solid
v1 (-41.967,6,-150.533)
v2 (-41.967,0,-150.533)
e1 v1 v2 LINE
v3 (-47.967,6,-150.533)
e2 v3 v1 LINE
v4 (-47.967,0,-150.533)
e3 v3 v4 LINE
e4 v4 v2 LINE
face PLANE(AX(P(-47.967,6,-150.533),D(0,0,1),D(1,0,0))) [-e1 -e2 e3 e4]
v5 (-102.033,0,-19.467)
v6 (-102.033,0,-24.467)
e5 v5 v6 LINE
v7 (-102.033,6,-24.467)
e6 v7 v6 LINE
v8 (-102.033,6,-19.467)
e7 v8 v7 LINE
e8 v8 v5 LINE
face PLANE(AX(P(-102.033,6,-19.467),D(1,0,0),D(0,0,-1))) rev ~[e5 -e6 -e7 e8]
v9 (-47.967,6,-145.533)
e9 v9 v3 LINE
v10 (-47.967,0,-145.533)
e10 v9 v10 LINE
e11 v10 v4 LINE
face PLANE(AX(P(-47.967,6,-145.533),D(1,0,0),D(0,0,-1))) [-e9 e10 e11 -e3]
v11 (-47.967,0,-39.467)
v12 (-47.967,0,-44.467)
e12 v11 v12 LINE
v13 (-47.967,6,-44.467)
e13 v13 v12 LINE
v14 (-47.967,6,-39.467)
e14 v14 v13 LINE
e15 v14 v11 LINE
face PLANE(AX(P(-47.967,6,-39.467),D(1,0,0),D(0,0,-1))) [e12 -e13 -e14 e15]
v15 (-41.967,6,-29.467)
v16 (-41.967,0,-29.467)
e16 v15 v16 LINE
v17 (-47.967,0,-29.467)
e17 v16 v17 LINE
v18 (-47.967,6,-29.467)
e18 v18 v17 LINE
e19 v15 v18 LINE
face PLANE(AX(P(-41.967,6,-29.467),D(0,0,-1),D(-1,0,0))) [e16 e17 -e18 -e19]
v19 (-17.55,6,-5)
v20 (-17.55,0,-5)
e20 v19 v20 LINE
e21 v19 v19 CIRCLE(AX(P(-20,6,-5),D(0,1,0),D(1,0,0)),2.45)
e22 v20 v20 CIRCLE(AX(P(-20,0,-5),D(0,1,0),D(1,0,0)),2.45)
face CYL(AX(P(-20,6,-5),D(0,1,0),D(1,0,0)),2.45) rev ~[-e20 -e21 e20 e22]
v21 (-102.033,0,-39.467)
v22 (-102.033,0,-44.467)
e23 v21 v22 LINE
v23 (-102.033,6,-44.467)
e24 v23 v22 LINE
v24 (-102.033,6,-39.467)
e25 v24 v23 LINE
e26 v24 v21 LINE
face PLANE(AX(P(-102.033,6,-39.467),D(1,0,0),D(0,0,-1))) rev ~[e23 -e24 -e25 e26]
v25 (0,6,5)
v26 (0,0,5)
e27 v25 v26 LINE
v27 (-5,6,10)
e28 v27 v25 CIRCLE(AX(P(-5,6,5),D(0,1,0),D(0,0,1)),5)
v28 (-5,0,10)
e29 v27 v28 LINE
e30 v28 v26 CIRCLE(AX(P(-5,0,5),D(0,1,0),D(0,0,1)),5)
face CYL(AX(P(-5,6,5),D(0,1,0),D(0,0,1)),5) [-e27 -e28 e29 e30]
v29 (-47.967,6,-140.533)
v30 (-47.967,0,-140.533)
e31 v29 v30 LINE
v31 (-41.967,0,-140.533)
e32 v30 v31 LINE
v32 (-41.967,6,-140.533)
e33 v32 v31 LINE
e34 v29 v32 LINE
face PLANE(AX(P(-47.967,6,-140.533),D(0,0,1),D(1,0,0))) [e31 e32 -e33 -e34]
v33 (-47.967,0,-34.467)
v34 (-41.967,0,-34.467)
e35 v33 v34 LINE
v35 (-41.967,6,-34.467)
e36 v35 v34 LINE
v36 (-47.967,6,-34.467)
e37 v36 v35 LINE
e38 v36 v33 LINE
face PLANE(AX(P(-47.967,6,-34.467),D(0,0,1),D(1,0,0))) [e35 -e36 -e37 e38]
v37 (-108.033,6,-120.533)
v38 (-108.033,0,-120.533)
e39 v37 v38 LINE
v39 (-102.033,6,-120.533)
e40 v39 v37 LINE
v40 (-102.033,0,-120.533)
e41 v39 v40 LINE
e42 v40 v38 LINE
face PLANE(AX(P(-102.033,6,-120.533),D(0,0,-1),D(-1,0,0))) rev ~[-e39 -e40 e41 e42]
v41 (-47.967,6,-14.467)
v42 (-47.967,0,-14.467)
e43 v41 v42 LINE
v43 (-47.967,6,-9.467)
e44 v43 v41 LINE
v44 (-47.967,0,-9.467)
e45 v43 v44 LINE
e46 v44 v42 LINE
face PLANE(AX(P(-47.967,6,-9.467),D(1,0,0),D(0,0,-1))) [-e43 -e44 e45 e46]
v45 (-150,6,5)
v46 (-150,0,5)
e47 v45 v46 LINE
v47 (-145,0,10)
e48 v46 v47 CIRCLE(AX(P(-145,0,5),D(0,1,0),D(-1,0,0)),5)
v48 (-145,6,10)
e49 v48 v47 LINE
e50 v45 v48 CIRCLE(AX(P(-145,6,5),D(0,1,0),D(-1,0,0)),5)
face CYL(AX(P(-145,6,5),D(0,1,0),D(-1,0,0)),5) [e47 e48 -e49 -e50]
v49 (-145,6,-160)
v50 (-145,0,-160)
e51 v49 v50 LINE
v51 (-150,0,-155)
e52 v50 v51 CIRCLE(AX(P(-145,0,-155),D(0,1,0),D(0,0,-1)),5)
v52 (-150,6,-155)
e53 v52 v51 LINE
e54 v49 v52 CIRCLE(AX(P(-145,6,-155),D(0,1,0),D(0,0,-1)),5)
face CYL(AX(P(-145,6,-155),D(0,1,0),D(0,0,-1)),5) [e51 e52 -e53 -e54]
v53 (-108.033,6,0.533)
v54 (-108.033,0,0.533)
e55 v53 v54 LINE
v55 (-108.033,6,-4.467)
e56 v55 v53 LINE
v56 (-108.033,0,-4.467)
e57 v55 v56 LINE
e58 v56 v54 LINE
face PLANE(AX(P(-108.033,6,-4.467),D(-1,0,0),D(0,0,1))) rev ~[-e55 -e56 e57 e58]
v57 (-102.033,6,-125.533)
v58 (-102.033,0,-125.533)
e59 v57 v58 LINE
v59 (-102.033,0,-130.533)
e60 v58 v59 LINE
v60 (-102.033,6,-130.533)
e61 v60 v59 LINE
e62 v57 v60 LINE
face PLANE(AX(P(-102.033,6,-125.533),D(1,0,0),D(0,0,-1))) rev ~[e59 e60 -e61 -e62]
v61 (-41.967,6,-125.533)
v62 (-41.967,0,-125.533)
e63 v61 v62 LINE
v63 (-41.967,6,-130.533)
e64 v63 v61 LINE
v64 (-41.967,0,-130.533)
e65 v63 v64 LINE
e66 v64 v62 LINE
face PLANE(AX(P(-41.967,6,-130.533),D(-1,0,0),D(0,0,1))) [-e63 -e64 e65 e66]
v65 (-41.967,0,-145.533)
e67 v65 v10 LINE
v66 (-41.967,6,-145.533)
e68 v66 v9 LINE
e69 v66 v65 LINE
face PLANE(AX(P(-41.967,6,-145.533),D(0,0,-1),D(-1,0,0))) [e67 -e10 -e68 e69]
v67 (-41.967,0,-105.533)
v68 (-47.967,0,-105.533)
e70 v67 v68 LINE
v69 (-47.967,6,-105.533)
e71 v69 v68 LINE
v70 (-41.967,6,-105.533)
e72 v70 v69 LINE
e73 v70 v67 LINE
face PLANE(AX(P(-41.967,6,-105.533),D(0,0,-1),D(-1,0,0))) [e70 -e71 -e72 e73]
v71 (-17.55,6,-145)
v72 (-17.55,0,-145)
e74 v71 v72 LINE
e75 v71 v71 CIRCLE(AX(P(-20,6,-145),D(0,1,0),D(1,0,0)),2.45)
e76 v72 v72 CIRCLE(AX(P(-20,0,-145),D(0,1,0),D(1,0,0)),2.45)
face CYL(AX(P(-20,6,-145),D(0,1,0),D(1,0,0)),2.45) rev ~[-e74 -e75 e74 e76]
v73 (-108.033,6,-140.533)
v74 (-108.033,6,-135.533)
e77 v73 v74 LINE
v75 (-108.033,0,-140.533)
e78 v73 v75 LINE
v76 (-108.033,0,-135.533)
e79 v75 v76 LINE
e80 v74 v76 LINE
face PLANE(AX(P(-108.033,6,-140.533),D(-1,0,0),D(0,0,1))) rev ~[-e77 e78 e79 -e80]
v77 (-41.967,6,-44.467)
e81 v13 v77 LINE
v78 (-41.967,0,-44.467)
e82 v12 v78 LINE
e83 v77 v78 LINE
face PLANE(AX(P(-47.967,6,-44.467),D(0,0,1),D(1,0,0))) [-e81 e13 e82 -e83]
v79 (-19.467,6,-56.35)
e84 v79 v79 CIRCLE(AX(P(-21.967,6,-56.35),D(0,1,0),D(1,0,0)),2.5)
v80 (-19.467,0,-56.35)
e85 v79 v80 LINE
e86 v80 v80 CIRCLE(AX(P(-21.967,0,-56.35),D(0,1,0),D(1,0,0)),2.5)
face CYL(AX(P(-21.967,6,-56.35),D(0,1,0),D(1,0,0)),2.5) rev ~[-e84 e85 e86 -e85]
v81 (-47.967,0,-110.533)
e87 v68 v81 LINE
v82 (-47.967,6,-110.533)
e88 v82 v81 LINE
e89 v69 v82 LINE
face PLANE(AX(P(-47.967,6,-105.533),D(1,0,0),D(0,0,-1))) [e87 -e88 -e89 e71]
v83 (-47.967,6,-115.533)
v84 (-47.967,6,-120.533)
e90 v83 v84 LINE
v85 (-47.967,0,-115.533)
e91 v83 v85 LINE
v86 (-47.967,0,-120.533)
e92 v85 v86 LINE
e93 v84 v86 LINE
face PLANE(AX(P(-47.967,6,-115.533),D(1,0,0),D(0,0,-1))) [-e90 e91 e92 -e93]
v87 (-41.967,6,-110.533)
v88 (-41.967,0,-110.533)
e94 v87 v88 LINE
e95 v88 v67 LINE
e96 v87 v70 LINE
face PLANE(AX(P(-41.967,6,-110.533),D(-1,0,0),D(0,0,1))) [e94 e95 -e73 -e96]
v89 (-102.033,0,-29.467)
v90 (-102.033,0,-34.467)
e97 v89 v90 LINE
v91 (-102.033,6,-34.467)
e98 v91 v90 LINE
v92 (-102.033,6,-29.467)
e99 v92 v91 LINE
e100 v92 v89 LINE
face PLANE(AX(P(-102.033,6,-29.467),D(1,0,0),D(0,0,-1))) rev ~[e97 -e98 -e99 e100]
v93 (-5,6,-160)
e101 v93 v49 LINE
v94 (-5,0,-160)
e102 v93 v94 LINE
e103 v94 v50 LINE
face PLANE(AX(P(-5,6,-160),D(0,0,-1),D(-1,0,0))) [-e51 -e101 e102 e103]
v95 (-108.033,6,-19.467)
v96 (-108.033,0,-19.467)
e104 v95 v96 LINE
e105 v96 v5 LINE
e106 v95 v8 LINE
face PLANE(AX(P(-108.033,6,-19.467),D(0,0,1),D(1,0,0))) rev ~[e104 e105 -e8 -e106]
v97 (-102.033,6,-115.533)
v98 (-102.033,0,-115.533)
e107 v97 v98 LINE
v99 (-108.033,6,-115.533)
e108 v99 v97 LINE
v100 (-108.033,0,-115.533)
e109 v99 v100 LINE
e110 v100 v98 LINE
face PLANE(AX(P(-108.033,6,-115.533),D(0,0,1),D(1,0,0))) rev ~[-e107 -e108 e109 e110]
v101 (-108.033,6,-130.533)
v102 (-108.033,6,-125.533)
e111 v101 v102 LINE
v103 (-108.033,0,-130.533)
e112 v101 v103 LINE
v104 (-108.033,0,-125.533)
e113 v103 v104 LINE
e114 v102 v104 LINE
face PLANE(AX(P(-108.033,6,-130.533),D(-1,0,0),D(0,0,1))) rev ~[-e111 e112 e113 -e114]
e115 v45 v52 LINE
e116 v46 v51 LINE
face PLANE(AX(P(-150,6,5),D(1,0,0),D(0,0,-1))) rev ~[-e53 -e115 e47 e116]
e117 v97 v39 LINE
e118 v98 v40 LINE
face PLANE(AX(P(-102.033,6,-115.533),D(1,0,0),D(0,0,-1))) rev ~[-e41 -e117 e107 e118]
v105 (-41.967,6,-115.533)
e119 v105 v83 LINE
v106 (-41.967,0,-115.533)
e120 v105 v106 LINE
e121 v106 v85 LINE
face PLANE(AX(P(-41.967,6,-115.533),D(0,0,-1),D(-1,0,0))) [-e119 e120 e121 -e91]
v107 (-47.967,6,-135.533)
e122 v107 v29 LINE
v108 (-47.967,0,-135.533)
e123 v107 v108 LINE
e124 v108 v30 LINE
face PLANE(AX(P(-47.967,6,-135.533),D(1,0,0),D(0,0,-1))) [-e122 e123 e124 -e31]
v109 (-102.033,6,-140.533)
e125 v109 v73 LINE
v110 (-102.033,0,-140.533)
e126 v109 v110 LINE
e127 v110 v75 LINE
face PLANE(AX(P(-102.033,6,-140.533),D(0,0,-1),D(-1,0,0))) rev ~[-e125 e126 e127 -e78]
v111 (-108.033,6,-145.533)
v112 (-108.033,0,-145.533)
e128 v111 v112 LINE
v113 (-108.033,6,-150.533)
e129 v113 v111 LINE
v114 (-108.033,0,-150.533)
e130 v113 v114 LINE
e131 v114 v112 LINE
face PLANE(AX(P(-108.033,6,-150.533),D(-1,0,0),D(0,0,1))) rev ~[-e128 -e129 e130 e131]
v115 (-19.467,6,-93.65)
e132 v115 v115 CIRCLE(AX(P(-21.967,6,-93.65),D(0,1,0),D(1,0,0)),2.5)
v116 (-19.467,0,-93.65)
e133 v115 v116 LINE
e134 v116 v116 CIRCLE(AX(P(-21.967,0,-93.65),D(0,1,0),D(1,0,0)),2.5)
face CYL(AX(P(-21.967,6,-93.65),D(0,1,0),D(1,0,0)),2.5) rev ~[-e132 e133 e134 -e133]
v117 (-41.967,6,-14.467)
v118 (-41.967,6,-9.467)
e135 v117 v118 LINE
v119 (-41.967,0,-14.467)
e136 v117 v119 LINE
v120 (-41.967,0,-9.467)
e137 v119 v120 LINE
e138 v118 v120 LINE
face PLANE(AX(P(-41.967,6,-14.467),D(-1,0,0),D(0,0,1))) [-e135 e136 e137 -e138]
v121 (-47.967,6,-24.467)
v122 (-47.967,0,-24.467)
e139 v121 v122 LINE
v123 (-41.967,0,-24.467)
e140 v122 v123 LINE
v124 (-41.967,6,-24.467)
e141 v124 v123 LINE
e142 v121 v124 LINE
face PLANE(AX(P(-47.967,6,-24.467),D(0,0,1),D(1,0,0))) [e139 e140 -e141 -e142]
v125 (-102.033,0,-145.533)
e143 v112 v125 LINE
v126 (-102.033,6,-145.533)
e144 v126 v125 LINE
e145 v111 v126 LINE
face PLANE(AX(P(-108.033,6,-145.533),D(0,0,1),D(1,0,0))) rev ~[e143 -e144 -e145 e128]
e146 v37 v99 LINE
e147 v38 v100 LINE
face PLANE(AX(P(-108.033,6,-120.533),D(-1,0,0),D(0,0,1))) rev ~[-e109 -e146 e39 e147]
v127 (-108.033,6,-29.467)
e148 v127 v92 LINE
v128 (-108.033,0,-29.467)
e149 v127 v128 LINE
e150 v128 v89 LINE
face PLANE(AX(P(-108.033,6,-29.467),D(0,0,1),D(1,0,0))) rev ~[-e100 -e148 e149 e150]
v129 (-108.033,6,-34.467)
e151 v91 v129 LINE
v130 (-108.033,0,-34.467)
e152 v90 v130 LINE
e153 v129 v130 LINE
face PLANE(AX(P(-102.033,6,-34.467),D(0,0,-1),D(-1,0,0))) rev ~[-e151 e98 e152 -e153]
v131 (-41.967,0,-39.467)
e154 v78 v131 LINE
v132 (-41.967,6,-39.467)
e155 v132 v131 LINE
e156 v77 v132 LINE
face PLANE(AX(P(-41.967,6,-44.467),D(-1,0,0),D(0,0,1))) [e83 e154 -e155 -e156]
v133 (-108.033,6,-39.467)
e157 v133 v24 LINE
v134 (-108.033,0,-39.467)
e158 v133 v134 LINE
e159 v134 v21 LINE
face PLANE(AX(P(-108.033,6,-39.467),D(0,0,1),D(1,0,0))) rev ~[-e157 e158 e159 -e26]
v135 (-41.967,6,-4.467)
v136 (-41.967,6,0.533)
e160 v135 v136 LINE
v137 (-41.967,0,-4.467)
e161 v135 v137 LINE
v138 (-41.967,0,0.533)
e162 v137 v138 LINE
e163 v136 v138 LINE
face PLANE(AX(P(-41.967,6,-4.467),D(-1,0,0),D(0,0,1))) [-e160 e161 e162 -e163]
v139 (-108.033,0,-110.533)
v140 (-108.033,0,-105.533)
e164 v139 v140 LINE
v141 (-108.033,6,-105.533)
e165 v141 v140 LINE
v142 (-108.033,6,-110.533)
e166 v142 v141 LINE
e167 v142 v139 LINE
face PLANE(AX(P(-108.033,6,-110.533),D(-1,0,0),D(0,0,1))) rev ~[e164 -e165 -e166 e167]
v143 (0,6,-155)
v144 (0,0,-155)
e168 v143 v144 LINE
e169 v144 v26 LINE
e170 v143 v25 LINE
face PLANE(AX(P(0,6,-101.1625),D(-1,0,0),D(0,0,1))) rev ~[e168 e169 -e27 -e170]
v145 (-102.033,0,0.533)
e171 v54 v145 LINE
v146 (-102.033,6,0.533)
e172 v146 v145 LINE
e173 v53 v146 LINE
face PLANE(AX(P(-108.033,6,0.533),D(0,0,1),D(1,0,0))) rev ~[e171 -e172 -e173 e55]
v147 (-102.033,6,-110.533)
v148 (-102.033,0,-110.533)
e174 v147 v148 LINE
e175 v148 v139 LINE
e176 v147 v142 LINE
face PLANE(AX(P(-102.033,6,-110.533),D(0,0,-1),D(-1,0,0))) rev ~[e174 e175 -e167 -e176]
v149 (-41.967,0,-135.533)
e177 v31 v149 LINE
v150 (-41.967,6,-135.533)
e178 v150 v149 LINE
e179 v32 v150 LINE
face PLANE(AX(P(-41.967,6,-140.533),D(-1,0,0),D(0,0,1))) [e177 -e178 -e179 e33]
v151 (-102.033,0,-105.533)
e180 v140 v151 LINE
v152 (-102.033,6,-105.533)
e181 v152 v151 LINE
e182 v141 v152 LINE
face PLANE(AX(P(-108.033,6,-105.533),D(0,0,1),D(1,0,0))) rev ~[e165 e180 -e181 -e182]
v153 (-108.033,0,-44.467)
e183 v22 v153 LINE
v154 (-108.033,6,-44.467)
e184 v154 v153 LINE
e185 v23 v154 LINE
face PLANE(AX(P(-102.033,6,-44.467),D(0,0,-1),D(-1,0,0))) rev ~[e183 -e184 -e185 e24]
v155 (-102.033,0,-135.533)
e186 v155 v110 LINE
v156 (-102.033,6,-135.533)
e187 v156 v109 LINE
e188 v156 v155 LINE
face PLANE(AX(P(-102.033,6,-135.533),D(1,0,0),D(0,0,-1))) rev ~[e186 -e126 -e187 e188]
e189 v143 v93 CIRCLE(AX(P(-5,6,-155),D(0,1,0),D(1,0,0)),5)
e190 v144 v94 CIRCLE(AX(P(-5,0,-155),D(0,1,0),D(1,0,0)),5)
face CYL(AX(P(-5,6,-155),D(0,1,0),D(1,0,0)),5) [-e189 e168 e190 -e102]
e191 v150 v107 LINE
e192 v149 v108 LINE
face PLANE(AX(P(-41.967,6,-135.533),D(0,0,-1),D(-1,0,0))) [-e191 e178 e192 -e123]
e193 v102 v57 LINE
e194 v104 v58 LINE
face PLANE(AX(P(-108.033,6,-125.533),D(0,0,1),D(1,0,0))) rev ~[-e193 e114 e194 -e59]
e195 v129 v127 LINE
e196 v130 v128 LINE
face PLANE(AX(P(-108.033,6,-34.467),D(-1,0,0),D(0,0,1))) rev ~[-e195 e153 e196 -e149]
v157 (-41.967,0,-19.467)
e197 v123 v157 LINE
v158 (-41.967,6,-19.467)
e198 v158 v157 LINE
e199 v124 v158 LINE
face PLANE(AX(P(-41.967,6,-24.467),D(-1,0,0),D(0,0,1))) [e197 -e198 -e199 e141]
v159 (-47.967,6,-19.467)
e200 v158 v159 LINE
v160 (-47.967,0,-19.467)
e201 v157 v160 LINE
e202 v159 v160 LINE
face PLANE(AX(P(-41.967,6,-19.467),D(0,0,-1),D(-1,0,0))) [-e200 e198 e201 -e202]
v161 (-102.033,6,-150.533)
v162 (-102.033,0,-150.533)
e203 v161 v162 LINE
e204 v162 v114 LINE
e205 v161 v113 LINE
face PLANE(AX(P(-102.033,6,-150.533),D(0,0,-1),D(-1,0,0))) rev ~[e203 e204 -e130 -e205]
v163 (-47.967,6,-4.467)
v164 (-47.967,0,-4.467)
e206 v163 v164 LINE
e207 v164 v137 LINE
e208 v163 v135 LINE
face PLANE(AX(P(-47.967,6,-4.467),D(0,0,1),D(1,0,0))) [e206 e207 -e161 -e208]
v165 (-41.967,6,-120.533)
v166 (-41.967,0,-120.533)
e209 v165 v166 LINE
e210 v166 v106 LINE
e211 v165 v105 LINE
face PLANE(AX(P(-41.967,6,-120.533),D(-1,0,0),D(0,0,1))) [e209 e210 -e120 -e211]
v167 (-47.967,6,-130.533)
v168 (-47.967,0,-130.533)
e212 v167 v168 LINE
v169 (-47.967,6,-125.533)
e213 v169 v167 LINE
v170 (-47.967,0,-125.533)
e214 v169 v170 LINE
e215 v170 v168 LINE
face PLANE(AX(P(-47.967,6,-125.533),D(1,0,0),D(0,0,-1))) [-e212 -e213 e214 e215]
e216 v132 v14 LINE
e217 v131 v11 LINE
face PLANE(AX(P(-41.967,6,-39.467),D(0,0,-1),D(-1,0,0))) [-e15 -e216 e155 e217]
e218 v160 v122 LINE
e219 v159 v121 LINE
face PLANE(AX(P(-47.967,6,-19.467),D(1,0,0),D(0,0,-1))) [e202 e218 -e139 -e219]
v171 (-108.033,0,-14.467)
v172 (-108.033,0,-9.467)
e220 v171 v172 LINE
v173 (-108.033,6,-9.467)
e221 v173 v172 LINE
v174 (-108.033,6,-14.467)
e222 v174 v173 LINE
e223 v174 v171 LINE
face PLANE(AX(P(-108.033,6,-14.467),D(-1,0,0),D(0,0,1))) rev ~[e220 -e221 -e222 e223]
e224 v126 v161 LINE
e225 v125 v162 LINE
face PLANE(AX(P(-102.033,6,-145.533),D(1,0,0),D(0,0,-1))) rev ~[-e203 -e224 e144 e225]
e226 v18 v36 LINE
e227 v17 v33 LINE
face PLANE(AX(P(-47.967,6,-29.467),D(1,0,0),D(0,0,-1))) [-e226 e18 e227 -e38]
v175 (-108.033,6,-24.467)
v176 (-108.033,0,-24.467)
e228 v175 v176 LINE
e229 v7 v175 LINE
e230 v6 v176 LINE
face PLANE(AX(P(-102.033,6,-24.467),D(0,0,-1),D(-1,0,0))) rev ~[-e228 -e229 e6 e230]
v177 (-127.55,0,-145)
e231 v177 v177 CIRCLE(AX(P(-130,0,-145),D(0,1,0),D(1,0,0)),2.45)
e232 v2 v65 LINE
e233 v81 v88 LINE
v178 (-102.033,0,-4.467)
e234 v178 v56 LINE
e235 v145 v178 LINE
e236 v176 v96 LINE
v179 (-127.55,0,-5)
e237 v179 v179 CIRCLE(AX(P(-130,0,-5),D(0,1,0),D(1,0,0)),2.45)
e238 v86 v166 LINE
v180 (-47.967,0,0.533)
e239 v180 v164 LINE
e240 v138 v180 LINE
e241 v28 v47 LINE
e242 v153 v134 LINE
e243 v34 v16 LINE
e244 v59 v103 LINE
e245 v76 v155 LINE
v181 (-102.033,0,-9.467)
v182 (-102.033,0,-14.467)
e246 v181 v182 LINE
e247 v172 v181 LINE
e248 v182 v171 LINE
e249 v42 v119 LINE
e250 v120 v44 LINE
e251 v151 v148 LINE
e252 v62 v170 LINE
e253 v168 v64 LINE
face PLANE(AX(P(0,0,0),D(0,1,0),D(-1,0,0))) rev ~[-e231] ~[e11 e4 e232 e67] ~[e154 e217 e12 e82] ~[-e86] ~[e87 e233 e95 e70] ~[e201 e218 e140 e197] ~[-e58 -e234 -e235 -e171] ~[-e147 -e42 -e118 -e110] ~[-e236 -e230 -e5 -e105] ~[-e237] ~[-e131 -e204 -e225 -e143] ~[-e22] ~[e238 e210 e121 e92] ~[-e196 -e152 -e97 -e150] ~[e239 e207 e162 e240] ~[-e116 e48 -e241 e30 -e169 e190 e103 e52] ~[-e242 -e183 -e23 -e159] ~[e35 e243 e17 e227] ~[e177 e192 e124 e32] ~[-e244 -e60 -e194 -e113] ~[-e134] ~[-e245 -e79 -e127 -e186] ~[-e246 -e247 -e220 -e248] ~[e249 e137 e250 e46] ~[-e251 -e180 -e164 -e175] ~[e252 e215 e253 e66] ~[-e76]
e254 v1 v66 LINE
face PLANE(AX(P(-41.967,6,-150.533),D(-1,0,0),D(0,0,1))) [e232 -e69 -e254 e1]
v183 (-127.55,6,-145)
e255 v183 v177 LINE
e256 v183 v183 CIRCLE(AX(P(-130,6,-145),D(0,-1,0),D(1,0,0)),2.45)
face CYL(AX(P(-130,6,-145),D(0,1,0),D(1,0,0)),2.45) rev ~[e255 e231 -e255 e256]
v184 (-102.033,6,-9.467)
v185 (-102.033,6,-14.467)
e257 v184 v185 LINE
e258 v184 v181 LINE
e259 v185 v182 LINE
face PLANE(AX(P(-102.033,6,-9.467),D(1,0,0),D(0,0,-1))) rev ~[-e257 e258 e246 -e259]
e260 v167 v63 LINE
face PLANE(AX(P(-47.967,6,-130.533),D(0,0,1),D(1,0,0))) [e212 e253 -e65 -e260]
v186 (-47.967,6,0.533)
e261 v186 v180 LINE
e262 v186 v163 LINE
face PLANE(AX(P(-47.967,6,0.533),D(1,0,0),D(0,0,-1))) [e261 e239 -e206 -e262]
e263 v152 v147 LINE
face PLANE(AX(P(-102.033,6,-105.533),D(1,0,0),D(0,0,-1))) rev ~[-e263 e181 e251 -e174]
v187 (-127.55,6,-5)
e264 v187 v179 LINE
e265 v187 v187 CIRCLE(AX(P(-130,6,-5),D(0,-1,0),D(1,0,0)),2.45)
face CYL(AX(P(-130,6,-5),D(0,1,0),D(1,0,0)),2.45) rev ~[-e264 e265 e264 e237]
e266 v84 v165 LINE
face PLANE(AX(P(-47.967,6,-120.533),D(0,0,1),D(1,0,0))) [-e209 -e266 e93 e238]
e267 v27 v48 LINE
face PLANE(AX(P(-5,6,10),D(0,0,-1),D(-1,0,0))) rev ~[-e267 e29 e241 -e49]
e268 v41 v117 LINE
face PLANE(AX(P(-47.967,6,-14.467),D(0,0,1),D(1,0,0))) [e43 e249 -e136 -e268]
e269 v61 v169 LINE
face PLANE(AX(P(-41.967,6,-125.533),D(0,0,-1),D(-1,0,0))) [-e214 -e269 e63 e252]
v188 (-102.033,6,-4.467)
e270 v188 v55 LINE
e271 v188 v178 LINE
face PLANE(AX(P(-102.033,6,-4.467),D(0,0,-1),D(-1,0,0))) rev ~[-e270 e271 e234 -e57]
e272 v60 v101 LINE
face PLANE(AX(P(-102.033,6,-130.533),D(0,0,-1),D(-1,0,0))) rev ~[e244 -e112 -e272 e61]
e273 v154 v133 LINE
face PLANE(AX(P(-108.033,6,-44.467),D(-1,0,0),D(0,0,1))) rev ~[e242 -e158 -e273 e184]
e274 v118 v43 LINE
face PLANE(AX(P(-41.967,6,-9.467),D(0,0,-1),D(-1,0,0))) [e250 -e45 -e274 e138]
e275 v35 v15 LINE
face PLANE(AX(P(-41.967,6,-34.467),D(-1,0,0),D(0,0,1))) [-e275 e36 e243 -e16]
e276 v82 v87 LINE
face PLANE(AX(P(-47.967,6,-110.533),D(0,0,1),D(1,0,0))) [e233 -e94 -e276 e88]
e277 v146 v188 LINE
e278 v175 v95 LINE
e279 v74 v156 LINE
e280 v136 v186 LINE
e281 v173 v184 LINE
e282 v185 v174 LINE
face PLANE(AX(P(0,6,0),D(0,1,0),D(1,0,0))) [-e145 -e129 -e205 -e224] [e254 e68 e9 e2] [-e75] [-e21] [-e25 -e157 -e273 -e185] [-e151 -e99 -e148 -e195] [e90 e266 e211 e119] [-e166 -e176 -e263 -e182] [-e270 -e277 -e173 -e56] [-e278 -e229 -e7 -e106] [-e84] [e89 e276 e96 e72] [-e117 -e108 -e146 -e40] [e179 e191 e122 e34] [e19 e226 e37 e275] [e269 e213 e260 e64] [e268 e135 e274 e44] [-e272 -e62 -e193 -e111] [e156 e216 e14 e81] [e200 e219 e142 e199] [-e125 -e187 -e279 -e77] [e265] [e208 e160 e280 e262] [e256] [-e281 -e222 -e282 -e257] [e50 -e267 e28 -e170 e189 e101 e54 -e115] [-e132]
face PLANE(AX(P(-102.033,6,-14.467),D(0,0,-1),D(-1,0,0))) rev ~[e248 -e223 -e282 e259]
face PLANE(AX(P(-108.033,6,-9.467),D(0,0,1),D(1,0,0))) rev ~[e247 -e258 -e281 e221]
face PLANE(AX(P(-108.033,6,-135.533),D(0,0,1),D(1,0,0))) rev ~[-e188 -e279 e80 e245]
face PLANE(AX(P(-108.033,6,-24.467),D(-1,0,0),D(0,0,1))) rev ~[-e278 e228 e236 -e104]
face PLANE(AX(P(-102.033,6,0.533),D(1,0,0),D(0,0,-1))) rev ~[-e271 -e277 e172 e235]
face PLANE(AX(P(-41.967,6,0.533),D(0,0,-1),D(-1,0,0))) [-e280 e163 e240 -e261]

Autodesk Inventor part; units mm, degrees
ref_plane "YZ Plane" through (0, 0, 0) normal (1, 0, 0) x (0, 1, 0)
ref_plane "XZ Plane" through (0, 0, 0) normal (0, 1, 0) x (-1, 0, 0)
ref_plane "XY Plane" through (0, 0, 0) normal (0, 0, 1) x (1, 0, 0)
sketch "Sketch1" plane through (0, 0, 0) normal (0, 1, 0) x (-1, 0, 0)
  line L0 (5, 0) -> (145, 0)
  line L1 (150, -5) -> (150, -145)
  line L2 (145, -150) -> (5, -150)
  line L3 (0, -145) -> (0, -5)
  arc A0 (150, -5) -> (145, 0) centre (145, -5) ccw
  arc A1 (145, -150) -> (150, -145) centre (145, -145) ccw
  arc A2 (5, 0) -> (0, -5) centre (5, -5) ccw
  arc A3 (0, -145) -> (5, -150) centre (5, -145) ccw
  circle A4 centre (128.033, -128.033) radius 5
  circle A5 centre (128.033, -21.967) radius 5
  circle A6 centre (21.967, -21.967) radius 5
  circle A7 centre (21.967, -128.033) radius 5
  point P0 (0, 0)
  point P1 (150, -150)
  point P2 (150, 0)
  point P3 (0, -150)
  dimension "d0" = 150
  dimension "d1" = 150
  dimension "d2" = 5
  dimension "d9" = 10
  dimension "d10" = 10
  dimension "d11" = 10
  dimension "d12" = 10
extrude "Extrusion1" add sketch "Sketch1" along normal blind 6
sketch "Sketch2" plane through (0, 6, 0) normal (0, 1, 0) x (1, 0, 0)
  line L0 (0, 5) -> (0, 145) projected
  circle A0 centre (-21.967, 21.967) radius 5 projected
  circle A1 centre (-21.967, 77.828) radius 11
  circle A2 centre (-37.467, 62.328) radius 1.6
  circle A3 centre (-37.467, 93.328) radius 1.6
  circle A4 centre (-6.467, 62.328) radius 1.6
  circle A5 centre (-6.467, 93.328) radius 1.6
  point P0 (0, 0)
  dimension "d15" = 22
  dimension "d21" = 3.2
  dimension "d22" = 3.2
  dimension "d23" = 3.2
  dimension "d24" = 3.2
extrude "Extrusion2" cut sketch "Sketch2" against normal blind 6 contours A1 | A2 | A3 | A4 | A5
sketch "Sketch3" plane through (0, 6, 0) normal (0, 1, 0) x (1, 0, 0)
  circle A0 centre (-128.033, 128.033) radius 5 projected
  arc A1 (-145, 150) -> (-150, 145) centre (-145, 145) ccw projected
  line L0 (-150, 145) -> (0, 145)
  line L1 (0, 145) -> (0, 155)
  line L2 (-5, 160) -> (-145, 160)
  line L3 (-150, 155) -> (-150, 145)
  arc A2 (-150, 5) -> (-145, 0) centre (-145, 5) ccw projected
  line L4 (-150, 5) -> (0, 5)
  line L5 (0, 5) -> (0, -5)
  line L6 (-5, -10) -> (-145, -10)
  line L7 (-150, -5) -> (-150, 5)
  arc A3 (-145, 160) -> (-150, 155) centre (-145, 155) ccw
  arc A4 (0, 155) -> (-5, 160) centre (-5, 155) ccw
  arc A5 (-150, -5) -> (-145, -10) centre (-145, -5) ccw
  arc A6 (-5, -10) -> (0, -5) centre (-5, -5) ccw
  point P0 (0, 0)
  point P1 (0, 160)
  point P2 (-150, 160)
  point P3 (0, -10)
  point P4 (-150, -10)
  dimension "d29" = 150
  dimension "d30" = 15
  dimension "d31" = 150
  dimension "d32" = 15
  dimension "d33" = 5
extrude "Extrusion3" add sketch "Sketch3" against normal blind 6 contours L3 A3 L2 A4 L1 L0 | L4 L5 A6 L6 A5 L7
sketch "Sketch4" plane through (0, 6, 0) normal (0, 1, 0) x (1, 0, 0)
  circle A0 centre (-128.033, 128.033) radius 5 projected
  line L0 (-108.033, 105.533) -> (-102.033, 105.533)
  line L1 (-102.033, 105.533) -> (-102.033, 110.533)
  line L2 (-102.033, 110.533) -> (-108.033, 110.533)
  line L3 (-108.033, 110.533) -> (-108.033, 105.533)
  circle A1 centre (-21.967, 128.033) radius 5 projected
  line L4 (-41.967, 105.533) -> (-47.967, 105.533)
  line L5 (-47.967, 105.533) -> (-47.967, 110.533)
  line L6 (-47.967, 110.533) -> (-41.967, 110.533)
  line L7 (-41.967, 110.533) -> (-41.967, 105.533)
  circle A2 centre (-128.033, 21.967) radius 5 projected
  line L8 (-108.033, -0.533) -> (-102.033, -0.533)
  line L9 (-102.033, -0.533) -> (-102.033, 4.467)
  line L10 (-102.033, 4.467) -> (-108.033, 4.467)
  line L11 (-108.033, 4.467) -> (-108.033, -0.533)
  circle A3 centre (-21.967, 21.967) radius 5 projected
  line L12 (-41.967, -0.533) -> (-47.967, -0.533)
  line L13 (-47.967, -0.533) -> (-47.967, 4.467)
  line L14 (-47.967, 4.467) -> (-41.967, 4.467)
  line L15 (-41.967, 4.467) -> (-41.967, -0.533)
  point P0 (0, 0)
  dimension "d39" = 6
  dimension "d40" = 5
  dimension "d43" = 6
  dimension "d44" = 5
  dimension "d47" = 6
  dimension "d48" = 5
  dimension "d51" = 6
  dimension "d52" = 5
extrude "Extrusion4" cut sketch "Sketch4" against normal blind 6 contours L3 L2 L1 L0 | L4 L5 L6 L7 | L11 L10 L9 L8 | L12 L13 L14 L15
pattern_linear "Rectangular Pattern1" count 5 spacing 10 along (0, 0, -1) of "Extrusion4"
sketch "Sketch5" plane through (0, 6, 0) normal (0, 1, 0) x (1, 0, 0)
  circle A0 centre (-128.033, 21.967) radius 5 projected
  circle A1 centre (-128.033, 21.967) radius 5
  circle A2 centre (-128.033, 128.033) radius 5 projected
  circle A3 centre (-128.033, 128.033) radius 5
  circle A4 centre (-21.967, 128.033) radius 5 projected
  circle A5 centre (-21.967, 128.033) radius 5
  circle A6 centre (-21.967, 21.967) radius 5 projected
  circle A7 centre (-21.967, 21.967) radius 5
  point P0 (0, 0)
  dimension "d58" = 10
  dimension "d59" = 10
  dimension "d60" = 10
  dimension "d61" = 10
extrude "Extrusion5" add sketch "Sketch5" against normal blind 6
sketch "Sketch6" plane through (0, 6, 0) normal (0, 1, 0) x (1, 0, 0)
  point P0 (0, 0)
sketch "Sketch7" plane through (0, 6, 0) normal (0, 1, 0) x (1, 0, 0)
  line L0 (0, 155) -> (0, -5) projected
  line L1 (-44.6941, 101.1625) -> (0, 101.1625)
  line L2 (0, 101.1625) -> (0, 52.2821)
  line L3 (0, 52.2821) -> (-44.6941, 52.2821)
  line L4 (-44.6941, 52.2821) -> (-44.6941, 101.1625)
  point P0 (0, 0)
extrude "Extrusion6" add sketch "Sketch7" against normal blind 6
sketch "Sketch8" plane through (0, 6, 0) normal (0, 1, 0) x (1, 0, 0)
  line L0 (0, 155) -> (0, -5) projected
  circle A0 centre (-21.967, 93.65) radius 2.5
  circle A1 centre (-21.967, 56.35) radius 2.5
  point P0 (0, 0)
  dimension "d69" = 5
  dimension "d70" = 5
extrude "Extrusion7" cut sketch "Sketch8" against normal blind 6
sketch "Sketch9" plane through (0, 6, 0) normal (0, 1, 0) x (1, 0, 0)
  line L0 (-150, -5) -> (-150, 155) projected
  line L1 (-5, -10) -> (-145, -10) projected
  line L2 (-135, -10) -> (-120, -10) construction
  line L3 (0, 155) -> (0, -5) projected
  line L4 (0, 5) -> (15, 5) construction
  line L5 (0, 145) -> (15, 145) construction
  circle A0 centre (-130, 5) radius 2.45
  circle A1 centre (-130, 145) radius 2.45
  circle A2 centre (-20, 5) radius 2.45
  circle A3 centre (-20, 145) radius 2.45
  line L6 (-75, 75) -> (-63, 75) construction
  circle A4 centre (-83.4853, 66.5147) radius 2.75
  circle A5 centre (-83.4853, 83.4853) radius 2.75
  circle A6 centre (-66.5147, 83.4853) radius 2.75
  circle A7 centre (-66.5147, 66.5147) radius 2.75
  line L7 (-20, 5) -> (0, 5)
  line L8 (-130, 5) -> (-150, 5)
  line L9 (-130, 145) -> (-150, 145)
  line L10 (-20, 145) -> (0, 145)
  point P0 (0, 0)
  dimension "d82" = 4.9
  dimension "d83" = 4.9
  dimension "d84" = 4.9
  dimension "d85" = 4.9
  dimension "d92" = 5.5
  dimension "d93" = 5.5
  dimension "d94" = 5.5
  dimension "d95" = 5.5
  dimension "d98" = 20
  dimension "d99" = 20
  dimension "d100" = 20
  dimension "d101" = 20
extrude "Extrusion8" cut sketch "Sketch9" against normal blind 6
sketch "Sketch10" plane through (0, 6, 0) normal (0, 1, 0) x (1, 0, 0)
  line L0 (-94.8233, 59.338) -> (-53.739, 59.338)
  line L1 (-53.739, 59.338) -> (-53.739, 90.7909)
  line L2 (-53.739, 90.7909) -> (-94.8233, 90.7909)
  line L3 (-94.8233, 90.7909) -> (-94.8233, 59.338)
  point P0 (0, 0)
extrude "Extrusion9" add sketch "Sketch10" against normal blind 6
properties part number "e_bot 1"
